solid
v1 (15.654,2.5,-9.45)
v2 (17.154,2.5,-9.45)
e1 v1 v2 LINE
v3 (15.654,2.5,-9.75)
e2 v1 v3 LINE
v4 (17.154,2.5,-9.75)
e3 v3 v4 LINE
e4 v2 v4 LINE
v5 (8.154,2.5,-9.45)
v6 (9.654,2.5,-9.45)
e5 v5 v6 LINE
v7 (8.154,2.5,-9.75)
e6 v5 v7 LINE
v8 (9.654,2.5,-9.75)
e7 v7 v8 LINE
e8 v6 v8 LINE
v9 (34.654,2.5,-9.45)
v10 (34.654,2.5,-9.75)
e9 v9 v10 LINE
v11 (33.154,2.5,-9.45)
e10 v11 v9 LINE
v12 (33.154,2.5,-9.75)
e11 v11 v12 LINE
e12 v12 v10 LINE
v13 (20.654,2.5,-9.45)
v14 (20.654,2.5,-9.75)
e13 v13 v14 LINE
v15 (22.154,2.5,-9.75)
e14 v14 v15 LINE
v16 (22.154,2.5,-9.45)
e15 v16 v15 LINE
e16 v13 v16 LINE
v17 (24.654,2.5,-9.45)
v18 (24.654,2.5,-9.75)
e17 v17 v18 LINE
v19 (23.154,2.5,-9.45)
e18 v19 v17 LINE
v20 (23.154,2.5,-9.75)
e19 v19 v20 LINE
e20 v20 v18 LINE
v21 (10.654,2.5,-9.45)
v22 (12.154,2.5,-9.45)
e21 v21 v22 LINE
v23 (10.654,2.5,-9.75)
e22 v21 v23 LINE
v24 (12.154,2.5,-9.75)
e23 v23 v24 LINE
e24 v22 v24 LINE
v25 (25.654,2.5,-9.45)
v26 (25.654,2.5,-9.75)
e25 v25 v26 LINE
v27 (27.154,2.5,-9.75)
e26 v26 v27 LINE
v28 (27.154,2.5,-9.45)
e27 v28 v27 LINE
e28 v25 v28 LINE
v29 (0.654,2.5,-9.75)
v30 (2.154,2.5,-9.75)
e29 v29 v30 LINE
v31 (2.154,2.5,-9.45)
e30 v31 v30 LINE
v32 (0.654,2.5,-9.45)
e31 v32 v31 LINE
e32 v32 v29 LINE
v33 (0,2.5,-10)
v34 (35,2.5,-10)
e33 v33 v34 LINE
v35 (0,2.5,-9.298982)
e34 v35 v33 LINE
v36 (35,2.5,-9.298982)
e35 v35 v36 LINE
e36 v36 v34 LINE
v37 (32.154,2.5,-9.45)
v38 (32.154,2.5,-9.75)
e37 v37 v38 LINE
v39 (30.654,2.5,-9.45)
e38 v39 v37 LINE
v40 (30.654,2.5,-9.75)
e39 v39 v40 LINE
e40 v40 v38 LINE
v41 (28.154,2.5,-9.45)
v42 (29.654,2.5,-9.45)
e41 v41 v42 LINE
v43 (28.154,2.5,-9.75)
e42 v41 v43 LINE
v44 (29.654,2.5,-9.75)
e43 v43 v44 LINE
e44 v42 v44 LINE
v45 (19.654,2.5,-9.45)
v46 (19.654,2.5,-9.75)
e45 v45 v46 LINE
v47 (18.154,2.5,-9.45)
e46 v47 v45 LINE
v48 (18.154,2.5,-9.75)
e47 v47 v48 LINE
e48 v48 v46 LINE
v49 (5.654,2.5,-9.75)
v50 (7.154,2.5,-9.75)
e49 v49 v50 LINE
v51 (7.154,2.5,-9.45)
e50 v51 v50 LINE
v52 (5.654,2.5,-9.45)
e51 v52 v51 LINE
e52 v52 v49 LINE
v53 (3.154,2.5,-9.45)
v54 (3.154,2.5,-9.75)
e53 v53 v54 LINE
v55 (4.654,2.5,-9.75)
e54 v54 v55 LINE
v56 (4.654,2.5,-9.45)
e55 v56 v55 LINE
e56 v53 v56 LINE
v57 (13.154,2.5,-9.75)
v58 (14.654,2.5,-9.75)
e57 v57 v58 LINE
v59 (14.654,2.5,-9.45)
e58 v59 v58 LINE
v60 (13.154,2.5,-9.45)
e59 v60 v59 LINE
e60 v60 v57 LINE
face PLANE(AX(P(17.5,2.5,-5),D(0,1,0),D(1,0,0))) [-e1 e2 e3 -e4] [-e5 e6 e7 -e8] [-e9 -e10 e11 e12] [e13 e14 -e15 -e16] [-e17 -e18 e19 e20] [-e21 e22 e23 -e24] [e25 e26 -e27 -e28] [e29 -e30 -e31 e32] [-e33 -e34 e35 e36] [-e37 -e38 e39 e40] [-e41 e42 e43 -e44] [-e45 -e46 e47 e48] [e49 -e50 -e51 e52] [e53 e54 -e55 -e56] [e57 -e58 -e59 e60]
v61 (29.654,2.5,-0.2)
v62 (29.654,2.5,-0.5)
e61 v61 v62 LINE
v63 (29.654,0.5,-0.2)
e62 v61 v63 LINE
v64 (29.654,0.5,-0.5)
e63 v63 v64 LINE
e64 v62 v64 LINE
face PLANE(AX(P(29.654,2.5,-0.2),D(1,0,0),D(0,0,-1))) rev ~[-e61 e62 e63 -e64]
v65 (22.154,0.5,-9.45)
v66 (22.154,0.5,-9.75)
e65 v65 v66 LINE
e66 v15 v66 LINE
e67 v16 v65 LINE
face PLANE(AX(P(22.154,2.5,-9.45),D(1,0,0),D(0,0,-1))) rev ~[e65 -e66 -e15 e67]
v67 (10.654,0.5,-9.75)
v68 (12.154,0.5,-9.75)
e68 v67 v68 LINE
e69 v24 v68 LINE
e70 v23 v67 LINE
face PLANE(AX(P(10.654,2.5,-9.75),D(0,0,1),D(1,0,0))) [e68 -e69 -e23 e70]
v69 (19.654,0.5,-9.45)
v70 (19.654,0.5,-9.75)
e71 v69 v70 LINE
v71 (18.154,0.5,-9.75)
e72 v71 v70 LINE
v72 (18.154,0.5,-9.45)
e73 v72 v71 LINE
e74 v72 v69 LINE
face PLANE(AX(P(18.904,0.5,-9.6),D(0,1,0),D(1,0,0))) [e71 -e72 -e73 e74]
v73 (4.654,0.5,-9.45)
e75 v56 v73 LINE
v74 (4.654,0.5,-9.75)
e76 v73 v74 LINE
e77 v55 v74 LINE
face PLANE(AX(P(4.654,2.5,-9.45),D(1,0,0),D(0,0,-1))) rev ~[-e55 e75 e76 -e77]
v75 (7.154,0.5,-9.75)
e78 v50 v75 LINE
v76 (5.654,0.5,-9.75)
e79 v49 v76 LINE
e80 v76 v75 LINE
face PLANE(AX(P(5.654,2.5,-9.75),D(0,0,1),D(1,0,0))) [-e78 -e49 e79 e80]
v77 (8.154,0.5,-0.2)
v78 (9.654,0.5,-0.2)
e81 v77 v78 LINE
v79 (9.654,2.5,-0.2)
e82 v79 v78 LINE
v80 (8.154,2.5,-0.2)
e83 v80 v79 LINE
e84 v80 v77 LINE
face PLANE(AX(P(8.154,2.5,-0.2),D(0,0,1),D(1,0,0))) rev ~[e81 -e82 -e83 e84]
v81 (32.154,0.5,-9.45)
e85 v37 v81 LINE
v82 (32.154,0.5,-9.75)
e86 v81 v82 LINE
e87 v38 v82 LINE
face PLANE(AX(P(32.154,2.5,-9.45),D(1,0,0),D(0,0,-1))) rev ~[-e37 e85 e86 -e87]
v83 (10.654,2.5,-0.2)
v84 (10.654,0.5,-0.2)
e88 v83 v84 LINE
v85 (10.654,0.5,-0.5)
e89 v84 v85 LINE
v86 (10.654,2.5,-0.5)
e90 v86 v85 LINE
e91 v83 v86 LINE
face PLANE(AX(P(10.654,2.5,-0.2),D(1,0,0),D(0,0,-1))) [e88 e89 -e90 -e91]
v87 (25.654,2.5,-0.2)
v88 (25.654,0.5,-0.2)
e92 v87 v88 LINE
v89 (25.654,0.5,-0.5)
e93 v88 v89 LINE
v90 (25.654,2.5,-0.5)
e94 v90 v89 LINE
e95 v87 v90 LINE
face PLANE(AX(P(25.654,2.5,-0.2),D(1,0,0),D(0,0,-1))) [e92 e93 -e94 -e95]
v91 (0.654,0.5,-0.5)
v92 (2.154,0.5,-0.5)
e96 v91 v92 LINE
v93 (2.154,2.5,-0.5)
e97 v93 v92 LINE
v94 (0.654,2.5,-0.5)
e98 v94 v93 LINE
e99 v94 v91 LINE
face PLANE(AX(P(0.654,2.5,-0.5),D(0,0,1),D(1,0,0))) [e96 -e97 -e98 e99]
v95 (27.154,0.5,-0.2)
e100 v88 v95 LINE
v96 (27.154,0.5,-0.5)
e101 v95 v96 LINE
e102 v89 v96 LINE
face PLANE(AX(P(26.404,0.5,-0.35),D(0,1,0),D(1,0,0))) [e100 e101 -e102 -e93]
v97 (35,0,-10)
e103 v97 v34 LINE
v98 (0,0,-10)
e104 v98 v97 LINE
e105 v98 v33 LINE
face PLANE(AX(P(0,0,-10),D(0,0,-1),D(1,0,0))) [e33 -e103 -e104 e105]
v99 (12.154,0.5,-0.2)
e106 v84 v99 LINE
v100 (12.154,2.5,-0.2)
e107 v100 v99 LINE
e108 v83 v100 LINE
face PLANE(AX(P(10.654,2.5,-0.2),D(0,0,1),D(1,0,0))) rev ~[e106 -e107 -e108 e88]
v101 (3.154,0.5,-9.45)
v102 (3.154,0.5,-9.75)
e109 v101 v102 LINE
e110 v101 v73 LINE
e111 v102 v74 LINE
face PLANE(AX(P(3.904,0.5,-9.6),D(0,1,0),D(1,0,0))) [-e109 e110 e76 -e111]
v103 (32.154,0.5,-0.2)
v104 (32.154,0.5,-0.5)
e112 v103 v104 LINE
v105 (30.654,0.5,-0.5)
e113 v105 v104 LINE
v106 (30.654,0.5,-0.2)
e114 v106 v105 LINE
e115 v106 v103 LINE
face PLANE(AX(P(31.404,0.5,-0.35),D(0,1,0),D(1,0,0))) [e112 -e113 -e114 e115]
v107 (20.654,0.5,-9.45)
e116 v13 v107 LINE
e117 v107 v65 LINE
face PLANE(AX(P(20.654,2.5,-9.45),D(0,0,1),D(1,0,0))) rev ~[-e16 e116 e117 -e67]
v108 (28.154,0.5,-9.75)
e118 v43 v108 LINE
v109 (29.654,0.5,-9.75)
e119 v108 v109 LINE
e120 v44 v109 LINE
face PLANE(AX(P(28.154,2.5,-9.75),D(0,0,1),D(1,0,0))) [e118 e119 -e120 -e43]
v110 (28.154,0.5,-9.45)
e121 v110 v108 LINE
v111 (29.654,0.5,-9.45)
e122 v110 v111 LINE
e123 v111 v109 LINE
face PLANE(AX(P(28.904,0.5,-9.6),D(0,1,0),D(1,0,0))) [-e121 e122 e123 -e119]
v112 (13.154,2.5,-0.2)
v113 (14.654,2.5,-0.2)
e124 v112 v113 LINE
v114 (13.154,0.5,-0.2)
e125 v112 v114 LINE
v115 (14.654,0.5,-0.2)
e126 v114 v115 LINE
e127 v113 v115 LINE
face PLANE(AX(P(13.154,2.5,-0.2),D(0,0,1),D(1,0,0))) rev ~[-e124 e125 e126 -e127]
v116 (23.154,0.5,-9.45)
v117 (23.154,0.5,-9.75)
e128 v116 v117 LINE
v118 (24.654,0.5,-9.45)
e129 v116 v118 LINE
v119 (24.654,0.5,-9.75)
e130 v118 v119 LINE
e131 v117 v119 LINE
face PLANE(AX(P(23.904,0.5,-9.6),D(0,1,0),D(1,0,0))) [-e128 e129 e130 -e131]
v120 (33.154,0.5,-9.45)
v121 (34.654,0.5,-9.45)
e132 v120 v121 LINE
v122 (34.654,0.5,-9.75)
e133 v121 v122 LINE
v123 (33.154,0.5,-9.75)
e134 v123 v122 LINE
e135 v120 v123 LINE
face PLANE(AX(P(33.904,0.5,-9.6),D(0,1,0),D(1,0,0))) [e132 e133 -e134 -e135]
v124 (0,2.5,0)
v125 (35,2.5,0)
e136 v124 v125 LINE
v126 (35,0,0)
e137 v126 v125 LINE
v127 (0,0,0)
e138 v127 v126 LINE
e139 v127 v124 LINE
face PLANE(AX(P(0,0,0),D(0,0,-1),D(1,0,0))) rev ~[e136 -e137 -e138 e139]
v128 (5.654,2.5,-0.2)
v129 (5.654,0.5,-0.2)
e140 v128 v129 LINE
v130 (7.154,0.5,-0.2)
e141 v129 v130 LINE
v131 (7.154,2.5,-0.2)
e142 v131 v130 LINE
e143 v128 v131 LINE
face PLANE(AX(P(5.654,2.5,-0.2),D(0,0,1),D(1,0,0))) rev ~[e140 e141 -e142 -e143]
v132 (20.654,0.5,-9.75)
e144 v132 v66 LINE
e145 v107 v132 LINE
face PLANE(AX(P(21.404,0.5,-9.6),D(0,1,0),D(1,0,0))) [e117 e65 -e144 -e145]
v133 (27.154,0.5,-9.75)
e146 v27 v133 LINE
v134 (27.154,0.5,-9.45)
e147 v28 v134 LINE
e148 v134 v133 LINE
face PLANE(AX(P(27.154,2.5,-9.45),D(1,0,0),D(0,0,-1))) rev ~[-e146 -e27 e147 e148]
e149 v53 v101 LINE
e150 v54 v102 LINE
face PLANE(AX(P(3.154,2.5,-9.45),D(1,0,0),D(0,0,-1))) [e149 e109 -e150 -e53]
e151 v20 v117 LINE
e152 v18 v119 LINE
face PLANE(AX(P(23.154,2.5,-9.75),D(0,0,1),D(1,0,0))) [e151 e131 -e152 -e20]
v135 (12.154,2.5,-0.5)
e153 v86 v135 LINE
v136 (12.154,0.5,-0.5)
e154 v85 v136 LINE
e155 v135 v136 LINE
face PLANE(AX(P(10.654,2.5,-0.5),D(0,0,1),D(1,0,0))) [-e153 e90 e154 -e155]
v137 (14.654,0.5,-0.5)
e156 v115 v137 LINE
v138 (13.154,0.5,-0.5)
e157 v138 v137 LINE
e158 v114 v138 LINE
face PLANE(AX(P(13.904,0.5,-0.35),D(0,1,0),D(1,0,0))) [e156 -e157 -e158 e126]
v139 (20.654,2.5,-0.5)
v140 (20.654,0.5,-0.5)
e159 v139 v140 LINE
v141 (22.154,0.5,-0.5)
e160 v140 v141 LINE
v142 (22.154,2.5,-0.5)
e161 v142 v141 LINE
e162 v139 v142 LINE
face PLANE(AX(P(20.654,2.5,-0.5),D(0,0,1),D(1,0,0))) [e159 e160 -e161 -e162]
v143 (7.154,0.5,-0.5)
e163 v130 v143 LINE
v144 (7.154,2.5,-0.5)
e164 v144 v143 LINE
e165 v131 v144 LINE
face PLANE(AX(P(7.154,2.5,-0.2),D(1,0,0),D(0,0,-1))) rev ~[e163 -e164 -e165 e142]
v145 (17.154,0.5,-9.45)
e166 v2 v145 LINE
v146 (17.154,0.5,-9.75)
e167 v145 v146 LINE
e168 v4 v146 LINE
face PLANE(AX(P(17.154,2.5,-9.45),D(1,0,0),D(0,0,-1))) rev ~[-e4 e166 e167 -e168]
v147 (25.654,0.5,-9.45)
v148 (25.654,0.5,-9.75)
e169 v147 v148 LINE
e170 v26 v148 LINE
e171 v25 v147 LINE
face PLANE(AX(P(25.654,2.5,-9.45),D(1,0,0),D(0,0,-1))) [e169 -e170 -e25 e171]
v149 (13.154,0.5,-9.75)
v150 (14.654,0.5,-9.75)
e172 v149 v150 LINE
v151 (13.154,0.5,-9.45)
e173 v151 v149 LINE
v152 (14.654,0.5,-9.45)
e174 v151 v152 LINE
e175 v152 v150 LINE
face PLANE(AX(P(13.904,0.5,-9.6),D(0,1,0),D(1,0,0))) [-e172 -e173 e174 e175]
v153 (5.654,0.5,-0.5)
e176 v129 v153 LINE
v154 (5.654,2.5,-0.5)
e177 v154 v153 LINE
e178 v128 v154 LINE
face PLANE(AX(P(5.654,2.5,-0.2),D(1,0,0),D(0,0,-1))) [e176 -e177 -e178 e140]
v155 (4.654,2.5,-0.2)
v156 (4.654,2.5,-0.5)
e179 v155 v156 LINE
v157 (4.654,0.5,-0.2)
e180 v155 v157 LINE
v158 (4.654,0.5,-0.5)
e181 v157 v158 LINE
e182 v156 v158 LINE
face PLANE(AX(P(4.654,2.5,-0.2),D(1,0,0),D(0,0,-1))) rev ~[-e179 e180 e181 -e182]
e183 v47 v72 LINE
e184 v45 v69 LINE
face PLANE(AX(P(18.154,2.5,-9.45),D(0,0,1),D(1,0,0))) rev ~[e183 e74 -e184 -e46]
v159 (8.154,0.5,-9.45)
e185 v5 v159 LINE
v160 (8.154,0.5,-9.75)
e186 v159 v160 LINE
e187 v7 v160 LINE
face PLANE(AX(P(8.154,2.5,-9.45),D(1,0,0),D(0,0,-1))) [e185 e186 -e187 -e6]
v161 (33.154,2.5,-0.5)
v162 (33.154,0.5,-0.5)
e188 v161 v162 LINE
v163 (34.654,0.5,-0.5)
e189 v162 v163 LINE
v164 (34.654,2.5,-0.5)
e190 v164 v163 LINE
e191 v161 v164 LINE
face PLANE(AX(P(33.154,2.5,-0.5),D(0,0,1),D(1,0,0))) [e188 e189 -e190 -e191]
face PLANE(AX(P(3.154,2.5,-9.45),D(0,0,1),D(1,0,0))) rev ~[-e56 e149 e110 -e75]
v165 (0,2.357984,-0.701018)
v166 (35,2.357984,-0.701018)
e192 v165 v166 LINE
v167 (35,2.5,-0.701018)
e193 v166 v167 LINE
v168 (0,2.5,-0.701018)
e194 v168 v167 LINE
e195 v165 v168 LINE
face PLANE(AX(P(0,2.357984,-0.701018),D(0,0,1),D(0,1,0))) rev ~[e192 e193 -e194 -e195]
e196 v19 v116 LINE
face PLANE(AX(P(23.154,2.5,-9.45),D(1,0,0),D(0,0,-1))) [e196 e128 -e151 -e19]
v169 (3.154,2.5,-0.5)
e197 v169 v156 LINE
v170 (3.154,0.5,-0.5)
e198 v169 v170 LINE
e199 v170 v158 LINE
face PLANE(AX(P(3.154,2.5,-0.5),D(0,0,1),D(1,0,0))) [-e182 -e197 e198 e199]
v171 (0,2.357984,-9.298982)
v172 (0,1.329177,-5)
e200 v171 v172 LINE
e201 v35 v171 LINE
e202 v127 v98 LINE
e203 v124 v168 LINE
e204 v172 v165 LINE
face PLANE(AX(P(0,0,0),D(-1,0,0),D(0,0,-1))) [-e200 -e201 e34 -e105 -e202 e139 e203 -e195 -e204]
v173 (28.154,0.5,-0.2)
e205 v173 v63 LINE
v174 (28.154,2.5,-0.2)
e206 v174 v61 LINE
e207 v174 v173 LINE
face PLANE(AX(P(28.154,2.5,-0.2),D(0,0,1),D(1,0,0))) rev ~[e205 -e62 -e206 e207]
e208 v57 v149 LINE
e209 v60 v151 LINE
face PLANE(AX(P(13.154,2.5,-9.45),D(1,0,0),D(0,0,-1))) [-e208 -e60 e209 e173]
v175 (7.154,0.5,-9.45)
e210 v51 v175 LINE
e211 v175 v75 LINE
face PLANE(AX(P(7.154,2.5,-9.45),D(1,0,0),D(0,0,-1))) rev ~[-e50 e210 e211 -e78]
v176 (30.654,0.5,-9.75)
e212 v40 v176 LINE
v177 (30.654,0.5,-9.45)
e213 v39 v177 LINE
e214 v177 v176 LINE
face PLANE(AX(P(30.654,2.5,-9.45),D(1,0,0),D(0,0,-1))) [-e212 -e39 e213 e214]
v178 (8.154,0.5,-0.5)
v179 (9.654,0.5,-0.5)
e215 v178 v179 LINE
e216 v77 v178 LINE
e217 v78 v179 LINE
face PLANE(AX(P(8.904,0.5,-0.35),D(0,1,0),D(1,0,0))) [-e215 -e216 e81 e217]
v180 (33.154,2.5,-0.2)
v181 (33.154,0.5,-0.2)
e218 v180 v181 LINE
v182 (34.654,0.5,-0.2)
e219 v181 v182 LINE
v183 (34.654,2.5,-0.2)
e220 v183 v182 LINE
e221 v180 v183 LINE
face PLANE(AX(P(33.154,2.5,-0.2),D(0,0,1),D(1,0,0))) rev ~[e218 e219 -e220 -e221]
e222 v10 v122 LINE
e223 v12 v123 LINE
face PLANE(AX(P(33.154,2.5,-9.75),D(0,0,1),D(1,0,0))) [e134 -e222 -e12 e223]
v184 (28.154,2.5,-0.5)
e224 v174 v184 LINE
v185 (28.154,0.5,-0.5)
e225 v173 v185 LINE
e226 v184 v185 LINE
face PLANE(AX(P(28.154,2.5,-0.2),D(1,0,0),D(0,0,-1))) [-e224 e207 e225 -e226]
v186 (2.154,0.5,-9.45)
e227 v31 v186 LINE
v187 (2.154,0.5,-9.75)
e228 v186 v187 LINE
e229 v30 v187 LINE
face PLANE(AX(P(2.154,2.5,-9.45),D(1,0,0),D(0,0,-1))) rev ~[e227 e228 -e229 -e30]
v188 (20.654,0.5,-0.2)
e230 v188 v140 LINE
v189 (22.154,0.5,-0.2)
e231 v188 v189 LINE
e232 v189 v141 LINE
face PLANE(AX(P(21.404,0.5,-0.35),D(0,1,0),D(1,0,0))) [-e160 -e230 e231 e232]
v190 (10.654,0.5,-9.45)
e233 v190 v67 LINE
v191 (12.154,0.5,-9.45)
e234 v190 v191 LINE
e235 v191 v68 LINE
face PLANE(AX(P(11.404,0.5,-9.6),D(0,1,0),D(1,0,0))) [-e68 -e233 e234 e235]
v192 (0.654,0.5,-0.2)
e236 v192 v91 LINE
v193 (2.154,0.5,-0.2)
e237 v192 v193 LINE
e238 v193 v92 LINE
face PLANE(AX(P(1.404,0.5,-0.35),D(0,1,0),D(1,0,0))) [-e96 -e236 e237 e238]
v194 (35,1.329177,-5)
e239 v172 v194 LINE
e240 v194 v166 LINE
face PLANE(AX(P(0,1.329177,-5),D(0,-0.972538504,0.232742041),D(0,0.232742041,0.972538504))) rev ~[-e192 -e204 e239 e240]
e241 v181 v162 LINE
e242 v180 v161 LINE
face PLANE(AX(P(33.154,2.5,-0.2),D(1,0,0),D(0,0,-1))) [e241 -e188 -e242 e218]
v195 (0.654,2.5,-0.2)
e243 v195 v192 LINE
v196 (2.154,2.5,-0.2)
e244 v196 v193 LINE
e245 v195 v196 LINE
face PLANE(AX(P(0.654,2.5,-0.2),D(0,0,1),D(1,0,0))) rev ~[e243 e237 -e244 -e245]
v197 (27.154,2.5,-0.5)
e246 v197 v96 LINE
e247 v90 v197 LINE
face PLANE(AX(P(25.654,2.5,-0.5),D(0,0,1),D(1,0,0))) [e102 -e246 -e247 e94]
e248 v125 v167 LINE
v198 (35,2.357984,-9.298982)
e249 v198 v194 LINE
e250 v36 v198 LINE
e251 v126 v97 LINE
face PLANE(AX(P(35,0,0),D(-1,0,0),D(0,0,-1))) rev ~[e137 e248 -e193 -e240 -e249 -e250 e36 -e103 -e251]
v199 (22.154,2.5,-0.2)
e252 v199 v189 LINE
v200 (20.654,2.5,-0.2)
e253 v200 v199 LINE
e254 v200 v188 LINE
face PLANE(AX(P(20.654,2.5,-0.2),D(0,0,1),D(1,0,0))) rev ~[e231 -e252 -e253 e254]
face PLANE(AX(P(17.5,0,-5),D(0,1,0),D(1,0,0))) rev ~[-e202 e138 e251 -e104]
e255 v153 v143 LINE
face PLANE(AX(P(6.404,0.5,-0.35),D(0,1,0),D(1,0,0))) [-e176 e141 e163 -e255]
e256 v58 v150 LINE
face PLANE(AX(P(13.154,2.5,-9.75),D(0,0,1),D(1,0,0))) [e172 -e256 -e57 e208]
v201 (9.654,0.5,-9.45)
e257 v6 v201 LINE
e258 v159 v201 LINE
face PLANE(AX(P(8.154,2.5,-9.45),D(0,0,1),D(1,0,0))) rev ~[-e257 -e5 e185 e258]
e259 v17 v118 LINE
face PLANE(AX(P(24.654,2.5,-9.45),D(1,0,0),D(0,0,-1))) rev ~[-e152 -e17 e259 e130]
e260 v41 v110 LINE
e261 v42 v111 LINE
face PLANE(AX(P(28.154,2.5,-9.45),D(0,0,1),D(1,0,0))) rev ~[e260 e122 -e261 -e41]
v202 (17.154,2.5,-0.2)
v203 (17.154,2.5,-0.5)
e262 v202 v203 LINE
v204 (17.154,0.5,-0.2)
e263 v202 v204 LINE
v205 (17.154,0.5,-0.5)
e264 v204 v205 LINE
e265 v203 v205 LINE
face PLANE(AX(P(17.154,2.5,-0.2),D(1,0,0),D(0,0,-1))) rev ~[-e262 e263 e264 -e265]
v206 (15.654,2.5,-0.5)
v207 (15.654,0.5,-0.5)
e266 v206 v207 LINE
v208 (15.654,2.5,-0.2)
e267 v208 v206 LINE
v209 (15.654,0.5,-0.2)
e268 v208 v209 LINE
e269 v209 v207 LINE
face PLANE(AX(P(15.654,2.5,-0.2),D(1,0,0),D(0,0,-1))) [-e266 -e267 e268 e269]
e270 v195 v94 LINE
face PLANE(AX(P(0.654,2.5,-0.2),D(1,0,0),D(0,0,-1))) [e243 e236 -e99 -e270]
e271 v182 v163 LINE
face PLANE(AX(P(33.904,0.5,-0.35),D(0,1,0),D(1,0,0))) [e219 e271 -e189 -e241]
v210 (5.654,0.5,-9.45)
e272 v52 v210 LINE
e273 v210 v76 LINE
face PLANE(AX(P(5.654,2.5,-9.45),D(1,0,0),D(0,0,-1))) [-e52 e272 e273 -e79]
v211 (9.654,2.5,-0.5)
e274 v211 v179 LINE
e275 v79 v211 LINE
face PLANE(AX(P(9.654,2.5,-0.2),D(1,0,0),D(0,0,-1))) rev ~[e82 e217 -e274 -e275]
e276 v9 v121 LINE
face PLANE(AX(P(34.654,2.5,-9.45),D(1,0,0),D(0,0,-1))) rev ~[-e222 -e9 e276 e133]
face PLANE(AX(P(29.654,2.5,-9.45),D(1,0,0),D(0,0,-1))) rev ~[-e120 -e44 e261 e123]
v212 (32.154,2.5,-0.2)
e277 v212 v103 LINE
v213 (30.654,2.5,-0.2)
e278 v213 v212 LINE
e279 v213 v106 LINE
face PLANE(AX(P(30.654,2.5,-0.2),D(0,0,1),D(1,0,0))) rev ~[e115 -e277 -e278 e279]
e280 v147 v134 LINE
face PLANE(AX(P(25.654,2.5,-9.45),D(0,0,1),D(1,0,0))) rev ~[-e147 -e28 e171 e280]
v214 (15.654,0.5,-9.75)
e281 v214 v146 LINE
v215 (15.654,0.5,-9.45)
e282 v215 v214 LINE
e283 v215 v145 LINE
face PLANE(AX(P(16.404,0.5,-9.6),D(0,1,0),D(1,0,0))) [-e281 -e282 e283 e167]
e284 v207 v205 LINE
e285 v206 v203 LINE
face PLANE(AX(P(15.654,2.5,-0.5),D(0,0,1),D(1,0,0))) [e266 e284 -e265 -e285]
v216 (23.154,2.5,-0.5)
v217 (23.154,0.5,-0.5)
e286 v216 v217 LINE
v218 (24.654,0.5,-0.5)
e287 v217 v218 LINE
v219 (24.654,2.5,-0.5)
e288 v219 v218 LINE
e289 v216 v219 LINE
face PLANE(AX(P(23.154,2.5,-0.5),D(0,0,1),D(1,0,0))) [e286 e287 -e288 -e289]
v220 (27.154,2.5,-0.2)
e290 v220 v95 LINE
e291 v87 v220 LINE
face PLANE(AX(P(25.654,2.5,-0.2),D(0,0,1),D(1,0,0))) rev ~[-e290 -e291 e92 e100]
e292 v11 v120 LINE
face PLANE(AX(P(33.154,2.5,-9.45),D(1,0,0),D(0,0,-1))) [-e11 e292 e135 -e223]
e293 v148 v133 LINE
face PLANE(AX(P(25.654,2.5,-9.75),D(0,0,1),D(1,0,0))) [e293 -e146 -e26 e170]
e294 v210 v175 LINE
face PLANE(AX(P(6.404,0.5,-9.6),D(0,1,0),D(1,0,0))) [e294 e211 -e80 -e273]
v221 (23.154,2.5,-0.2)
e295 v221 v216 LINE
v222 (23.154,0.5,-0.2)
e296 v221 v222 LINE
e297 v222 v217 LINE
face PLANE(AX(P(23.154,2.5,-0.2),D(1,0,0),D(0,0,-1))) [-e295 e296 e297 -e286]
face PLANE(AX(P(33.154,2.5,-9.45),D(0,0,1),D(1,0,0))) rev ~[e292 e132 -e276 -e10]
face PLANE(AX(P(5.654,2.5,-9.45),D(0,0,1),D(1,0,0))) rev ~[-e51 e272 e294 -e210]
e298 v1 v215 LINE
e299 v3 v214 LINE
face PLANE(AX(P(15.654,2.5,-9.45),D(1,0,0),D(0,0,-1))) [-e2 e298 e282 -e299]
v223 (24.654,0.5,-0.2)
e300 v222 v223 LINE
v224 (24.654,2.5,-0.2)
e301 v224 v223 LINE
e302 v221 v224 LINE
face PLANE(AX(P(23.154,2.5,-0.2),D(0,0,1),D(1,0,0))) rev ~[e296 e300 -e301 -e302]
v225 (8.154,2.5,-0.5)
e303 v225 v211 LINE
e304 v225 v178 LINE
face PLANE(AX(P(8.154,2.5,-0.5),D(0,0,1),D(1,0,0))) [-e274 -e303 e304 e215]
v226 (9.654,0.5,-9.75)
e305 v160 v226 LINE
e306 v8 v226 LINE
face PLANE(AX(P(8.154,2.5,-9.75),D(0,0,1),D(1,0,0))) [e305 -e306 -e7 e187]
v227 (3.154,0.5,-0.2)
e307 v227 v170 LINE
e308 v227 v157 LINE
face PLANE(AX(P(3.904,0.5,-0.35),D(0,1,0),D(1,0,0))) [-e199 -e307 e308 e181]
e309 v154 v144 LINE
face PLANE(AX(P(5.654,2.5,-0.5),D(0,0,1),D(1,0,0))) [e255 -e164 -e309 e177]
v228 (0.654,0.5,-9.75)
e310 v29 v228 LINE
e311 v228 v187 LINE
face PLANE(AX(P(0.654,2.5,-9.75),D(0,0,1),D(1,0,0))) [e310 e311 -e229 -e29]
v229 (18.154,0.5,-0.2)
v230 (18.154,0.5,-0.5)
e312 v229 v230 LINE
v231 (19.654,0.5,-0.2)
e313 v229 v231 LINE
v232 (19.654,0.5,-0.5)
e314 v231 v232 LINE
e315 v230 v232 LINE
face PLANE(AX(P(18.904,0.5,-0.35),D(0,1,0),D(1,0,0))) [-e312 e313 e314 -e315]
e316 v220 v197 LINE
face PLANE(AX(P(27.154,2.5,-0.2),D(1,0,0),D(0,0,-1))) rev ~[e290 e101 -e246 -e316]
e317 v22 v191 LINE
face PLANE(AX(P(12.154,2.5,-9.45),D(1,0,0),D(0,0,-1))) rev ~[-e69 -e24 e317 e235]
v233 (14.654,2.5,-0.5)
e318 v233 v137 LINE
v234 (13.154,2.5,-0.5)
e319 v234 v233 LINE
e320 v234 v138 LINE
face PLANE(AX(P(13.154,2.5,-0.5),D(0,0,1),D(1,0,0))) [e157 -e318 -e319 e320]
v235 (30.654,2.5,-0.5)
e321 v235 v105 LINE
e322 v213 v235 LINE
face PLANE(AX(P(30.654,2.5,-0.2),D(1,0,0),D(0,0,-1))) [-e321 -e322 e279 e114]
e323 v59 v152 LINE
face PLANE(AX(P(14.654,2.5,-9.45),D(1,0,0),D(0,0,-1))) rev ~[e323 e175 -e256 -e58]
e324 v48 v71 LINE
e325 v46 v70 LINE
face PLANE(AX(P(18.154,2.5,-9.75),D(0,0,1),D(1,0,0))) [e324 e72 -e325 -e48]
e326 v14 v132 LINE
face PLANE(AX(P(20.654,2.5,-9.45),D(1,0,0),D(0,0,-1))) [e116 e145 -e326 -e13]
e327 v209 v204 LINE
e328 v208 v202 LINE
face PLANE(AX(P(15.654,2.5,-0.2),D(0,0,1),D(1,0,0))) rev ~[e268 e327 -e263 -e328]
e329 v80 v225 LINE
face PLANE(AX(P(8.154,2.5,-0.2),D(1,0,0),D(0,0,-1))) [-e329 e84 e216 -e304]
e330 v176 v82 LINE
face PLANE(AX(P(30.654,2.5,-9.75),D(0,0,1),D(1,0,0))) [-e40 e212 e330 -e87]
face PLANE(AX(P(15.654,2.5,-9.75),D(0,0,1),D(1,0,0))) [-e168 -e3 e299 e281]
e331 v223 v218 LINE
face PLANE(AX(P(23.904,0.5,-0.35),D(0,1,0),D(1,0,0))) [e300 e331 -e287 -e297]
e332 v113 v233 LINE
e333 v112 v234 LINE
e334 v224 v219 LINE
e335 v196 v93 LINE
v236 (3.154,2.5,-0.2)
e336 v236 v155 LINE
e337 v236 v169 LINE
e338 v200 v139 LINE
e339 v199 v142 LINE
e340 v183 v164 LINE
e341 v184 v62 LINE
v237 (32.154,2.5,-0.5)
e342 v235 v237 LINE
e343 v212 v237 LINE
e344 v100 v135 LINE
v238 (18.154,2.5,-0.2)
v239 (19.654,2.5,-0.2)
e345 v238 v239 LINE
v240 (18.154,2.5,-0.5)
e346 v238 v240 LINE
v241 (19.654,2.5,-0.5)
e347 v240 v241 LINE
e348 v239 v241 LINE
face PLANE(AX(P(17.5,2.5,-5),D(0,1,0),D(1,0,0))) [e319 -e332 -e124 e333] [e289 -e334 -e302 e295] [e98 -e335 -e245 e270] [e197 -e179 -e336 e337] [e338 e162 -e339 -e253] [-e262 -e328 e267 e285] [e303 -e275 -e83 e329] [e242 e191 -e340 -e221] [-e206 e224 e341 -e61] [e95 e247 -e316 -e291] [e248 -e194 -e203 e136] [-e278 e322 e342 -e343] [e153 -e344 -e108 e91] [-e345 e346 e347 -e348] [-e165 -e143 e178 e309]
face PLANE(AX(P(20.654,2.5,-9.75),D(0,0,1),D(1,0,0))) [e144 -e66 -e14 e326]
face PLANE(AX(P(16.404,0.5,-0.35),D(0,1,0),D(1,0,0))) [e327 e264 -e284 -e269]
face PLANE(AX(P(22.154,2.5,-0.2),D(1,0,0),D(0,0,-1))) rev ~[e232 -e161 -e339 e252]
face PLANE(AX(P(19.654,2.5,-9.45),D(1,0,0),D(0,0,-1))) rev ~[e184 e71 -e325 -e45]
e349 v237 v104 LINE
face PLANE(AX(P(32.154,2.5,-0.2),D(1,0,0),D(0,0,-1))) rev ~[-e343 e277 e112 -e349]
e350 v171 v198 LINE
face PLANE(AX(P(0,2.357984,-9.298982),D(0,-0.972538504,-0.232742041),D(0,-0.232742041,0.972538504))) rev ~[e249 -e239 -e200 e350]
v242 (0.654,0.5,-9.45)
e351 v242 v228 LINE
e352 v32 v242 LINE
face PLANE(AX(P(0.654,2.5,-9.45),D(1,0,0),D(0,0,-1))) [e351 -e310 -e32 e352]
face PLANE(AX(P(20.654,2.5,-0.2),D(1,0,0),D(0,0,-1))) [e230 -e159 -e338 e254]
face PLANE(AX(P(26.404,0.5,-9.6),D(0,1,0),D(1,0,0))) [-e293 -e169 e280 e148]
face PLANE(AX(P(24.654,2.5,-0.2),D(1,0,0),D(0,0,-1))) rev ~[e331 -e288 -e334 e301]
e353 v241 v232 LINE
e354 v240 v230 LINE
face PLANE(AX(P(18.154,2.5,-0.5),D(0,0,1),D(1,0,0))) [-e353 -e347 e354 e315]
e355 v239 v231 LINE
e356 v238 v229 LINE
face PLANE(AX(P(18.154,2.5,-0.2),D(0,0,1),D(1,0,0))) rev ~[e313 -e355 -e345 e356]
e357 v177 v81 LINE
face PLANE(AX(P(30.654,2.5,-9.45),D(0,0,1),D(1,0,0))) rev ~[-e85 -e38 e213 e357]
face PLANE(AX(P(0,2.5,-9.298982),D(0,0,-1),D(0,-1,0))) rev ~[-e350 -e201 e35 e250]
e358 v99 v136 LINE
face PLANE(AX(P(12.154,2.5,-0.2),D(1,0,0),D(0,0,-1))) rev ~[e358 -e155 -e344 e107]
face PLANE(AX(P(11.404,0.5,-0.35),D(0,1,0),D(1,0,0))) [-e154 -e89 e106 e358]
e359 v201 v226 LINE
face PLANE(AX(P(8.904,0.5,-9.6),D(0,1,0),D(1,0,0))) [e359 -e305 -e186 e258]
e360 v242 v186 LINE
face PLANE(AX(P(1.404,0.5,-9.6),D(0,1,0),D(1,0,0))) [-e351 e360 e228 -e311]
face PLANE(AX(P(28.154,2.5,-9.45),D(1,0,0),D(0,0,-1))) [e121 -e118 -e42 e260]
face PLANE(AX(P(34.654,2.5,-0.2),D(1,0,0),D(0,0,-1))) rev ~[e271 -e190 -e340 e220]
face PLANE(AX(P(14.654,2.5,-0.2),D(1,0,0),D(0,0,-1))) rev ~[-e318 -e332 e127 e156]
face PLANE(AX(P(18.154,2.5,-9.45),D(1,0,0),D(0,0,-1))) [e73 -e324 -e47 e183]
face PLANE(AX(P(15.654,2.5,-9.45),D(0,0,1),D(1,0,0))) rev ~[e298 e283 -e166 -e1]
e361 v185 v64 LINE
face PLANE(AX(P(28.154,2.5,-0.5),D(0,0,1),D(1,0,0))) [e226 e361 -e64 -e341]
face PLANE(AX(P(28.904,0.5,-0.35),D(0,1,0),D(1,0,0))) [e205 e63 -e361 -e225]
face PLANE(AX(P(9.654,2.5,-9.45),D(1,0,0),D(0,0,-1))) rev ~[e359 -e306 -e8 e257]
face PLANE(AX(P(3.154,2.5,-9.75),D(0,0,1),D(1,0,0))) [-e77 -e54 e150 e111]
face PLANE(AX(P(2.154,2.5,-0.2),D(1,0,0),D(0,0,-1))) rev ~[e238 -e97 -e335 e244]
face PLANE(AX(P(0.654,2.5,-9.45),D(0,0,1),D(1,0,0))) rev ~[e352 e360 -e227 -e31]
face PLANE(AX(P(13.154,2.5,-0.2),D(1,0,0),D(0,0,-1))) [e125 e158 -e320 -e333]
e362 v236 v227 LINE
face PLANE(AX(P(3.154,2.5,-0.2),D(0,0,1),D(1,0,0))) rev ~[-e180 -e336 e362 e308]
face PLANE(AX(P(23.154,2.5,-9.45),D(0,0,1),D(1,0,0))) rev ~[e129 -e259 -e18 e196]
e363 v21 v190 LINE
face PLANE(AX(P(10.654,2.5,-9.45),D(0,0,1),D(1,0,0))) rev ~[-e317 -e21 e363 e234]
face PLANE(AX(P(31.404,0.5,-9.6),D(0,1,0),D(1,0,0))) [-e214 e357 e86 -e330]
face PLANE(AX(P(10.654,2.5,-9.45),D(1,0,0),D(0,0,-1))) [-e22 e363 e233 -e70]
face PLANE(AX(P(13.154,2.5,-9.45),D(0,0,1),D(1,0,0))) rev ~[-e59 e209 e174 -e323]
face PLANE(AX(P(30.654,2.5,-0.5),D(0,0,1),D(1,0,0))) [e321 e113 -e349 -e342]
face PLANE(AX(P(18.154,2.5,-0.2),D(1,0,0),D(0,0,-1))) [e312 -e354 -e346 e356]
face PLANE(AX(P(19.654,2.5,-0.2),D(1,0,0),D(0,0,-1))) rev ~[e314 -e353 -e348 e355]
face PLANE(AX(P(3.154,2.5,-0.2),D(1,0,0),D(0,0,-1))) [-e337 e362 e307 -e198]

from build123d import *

# Parameters (mm, degrees)
SKETCH1_W            = 35
SKETCH1_H            = 10
BOSS_EXTRUDE1_DEPTH  = 2.5
SKETCH2_W            = 1.5
SKETCH2_H            = 0.3
CUT_EXTRUDE1_DEPTH   = 2
LPATTERN1_COUNT      = 14
LPATTERN1_PITCH      = 2.5
LPATTERN1_COUNT_DIR2 = 2
LPATTERN1_PITCH_DIR2 = 9.25
CUT_EXTRUDE2_DEPTH   = 37.486298798
CUT_EXTRUDE3_DEPTH   = 37.486298798


with BuildPart() as part:
    # Sketch1 → Boss-Extrude1 (new body)
    with BuildSketch(Plane(origin=(0, 0, 0), x_dir=(1, 0, 0), z_dir=(0, 1, 0))):
        with Locations((17.5, 5)):
            Rectangle(SKETCH1_W, SKETCH1_H)
    extrude(amount=BOSS_EXTRUDE1_DEPTH)

    # Sketch2 → Cut-Extrude1 (cut)
    with BuildSketch(Plane(origin=(0, 2.5, 0), x_dir=(1, 0, 0), z_dir=(0, 1, 0))):
        with Locations((1.404, 0.35)):
            Rectangle(SKETCH2_W, SKETCH2_H)
    cut_extrude1 = extrude(amount=-CUT_EXTRUDE1_DEPTH, mode=Mode.SUBTRACT)

    # LPattern1: Cut-Extrude1 14 × 2
    with Locations(*[(i * LPATTERN1_PITCH, 0, -j * LPATTERN1_PITCH_DIR2) for i in range(LPATTERN1_COUNT) for j in range(LPATTERN1_COUNT_DIR2) if (i, j) != (0, 0)]):
        add(cut_extrude1, mode=Mode.SUBTRACT)

    # Sketch3 → Cut-Extrude2 (cut, through all)
    with BuildSketch(Plane.ZY):
        Polygon((-0.701017802, 2.5), (-5, 2.5), (-5, 1.329177264), (-0.701017802, 2.35798372), align=None)
    extrude(amount=-CUT_EXTRUDE2_DEPTH, mode=Mode.SUBTRACT)

    # Sketch3<3> → Cut-Extrude3 (cut, through all)
    with BuildSketch(Plane.ZY):
        Polygon((-5, 2.5), (-9.298982198, 2.5), (-9.298982198, 2.35798372), (-5, 1.329177264), align=None)
    extrude(amount=-CUT_EXTRUDE3_DEPTH, mode=Mode.SUBTRACT)


solid = part.part
